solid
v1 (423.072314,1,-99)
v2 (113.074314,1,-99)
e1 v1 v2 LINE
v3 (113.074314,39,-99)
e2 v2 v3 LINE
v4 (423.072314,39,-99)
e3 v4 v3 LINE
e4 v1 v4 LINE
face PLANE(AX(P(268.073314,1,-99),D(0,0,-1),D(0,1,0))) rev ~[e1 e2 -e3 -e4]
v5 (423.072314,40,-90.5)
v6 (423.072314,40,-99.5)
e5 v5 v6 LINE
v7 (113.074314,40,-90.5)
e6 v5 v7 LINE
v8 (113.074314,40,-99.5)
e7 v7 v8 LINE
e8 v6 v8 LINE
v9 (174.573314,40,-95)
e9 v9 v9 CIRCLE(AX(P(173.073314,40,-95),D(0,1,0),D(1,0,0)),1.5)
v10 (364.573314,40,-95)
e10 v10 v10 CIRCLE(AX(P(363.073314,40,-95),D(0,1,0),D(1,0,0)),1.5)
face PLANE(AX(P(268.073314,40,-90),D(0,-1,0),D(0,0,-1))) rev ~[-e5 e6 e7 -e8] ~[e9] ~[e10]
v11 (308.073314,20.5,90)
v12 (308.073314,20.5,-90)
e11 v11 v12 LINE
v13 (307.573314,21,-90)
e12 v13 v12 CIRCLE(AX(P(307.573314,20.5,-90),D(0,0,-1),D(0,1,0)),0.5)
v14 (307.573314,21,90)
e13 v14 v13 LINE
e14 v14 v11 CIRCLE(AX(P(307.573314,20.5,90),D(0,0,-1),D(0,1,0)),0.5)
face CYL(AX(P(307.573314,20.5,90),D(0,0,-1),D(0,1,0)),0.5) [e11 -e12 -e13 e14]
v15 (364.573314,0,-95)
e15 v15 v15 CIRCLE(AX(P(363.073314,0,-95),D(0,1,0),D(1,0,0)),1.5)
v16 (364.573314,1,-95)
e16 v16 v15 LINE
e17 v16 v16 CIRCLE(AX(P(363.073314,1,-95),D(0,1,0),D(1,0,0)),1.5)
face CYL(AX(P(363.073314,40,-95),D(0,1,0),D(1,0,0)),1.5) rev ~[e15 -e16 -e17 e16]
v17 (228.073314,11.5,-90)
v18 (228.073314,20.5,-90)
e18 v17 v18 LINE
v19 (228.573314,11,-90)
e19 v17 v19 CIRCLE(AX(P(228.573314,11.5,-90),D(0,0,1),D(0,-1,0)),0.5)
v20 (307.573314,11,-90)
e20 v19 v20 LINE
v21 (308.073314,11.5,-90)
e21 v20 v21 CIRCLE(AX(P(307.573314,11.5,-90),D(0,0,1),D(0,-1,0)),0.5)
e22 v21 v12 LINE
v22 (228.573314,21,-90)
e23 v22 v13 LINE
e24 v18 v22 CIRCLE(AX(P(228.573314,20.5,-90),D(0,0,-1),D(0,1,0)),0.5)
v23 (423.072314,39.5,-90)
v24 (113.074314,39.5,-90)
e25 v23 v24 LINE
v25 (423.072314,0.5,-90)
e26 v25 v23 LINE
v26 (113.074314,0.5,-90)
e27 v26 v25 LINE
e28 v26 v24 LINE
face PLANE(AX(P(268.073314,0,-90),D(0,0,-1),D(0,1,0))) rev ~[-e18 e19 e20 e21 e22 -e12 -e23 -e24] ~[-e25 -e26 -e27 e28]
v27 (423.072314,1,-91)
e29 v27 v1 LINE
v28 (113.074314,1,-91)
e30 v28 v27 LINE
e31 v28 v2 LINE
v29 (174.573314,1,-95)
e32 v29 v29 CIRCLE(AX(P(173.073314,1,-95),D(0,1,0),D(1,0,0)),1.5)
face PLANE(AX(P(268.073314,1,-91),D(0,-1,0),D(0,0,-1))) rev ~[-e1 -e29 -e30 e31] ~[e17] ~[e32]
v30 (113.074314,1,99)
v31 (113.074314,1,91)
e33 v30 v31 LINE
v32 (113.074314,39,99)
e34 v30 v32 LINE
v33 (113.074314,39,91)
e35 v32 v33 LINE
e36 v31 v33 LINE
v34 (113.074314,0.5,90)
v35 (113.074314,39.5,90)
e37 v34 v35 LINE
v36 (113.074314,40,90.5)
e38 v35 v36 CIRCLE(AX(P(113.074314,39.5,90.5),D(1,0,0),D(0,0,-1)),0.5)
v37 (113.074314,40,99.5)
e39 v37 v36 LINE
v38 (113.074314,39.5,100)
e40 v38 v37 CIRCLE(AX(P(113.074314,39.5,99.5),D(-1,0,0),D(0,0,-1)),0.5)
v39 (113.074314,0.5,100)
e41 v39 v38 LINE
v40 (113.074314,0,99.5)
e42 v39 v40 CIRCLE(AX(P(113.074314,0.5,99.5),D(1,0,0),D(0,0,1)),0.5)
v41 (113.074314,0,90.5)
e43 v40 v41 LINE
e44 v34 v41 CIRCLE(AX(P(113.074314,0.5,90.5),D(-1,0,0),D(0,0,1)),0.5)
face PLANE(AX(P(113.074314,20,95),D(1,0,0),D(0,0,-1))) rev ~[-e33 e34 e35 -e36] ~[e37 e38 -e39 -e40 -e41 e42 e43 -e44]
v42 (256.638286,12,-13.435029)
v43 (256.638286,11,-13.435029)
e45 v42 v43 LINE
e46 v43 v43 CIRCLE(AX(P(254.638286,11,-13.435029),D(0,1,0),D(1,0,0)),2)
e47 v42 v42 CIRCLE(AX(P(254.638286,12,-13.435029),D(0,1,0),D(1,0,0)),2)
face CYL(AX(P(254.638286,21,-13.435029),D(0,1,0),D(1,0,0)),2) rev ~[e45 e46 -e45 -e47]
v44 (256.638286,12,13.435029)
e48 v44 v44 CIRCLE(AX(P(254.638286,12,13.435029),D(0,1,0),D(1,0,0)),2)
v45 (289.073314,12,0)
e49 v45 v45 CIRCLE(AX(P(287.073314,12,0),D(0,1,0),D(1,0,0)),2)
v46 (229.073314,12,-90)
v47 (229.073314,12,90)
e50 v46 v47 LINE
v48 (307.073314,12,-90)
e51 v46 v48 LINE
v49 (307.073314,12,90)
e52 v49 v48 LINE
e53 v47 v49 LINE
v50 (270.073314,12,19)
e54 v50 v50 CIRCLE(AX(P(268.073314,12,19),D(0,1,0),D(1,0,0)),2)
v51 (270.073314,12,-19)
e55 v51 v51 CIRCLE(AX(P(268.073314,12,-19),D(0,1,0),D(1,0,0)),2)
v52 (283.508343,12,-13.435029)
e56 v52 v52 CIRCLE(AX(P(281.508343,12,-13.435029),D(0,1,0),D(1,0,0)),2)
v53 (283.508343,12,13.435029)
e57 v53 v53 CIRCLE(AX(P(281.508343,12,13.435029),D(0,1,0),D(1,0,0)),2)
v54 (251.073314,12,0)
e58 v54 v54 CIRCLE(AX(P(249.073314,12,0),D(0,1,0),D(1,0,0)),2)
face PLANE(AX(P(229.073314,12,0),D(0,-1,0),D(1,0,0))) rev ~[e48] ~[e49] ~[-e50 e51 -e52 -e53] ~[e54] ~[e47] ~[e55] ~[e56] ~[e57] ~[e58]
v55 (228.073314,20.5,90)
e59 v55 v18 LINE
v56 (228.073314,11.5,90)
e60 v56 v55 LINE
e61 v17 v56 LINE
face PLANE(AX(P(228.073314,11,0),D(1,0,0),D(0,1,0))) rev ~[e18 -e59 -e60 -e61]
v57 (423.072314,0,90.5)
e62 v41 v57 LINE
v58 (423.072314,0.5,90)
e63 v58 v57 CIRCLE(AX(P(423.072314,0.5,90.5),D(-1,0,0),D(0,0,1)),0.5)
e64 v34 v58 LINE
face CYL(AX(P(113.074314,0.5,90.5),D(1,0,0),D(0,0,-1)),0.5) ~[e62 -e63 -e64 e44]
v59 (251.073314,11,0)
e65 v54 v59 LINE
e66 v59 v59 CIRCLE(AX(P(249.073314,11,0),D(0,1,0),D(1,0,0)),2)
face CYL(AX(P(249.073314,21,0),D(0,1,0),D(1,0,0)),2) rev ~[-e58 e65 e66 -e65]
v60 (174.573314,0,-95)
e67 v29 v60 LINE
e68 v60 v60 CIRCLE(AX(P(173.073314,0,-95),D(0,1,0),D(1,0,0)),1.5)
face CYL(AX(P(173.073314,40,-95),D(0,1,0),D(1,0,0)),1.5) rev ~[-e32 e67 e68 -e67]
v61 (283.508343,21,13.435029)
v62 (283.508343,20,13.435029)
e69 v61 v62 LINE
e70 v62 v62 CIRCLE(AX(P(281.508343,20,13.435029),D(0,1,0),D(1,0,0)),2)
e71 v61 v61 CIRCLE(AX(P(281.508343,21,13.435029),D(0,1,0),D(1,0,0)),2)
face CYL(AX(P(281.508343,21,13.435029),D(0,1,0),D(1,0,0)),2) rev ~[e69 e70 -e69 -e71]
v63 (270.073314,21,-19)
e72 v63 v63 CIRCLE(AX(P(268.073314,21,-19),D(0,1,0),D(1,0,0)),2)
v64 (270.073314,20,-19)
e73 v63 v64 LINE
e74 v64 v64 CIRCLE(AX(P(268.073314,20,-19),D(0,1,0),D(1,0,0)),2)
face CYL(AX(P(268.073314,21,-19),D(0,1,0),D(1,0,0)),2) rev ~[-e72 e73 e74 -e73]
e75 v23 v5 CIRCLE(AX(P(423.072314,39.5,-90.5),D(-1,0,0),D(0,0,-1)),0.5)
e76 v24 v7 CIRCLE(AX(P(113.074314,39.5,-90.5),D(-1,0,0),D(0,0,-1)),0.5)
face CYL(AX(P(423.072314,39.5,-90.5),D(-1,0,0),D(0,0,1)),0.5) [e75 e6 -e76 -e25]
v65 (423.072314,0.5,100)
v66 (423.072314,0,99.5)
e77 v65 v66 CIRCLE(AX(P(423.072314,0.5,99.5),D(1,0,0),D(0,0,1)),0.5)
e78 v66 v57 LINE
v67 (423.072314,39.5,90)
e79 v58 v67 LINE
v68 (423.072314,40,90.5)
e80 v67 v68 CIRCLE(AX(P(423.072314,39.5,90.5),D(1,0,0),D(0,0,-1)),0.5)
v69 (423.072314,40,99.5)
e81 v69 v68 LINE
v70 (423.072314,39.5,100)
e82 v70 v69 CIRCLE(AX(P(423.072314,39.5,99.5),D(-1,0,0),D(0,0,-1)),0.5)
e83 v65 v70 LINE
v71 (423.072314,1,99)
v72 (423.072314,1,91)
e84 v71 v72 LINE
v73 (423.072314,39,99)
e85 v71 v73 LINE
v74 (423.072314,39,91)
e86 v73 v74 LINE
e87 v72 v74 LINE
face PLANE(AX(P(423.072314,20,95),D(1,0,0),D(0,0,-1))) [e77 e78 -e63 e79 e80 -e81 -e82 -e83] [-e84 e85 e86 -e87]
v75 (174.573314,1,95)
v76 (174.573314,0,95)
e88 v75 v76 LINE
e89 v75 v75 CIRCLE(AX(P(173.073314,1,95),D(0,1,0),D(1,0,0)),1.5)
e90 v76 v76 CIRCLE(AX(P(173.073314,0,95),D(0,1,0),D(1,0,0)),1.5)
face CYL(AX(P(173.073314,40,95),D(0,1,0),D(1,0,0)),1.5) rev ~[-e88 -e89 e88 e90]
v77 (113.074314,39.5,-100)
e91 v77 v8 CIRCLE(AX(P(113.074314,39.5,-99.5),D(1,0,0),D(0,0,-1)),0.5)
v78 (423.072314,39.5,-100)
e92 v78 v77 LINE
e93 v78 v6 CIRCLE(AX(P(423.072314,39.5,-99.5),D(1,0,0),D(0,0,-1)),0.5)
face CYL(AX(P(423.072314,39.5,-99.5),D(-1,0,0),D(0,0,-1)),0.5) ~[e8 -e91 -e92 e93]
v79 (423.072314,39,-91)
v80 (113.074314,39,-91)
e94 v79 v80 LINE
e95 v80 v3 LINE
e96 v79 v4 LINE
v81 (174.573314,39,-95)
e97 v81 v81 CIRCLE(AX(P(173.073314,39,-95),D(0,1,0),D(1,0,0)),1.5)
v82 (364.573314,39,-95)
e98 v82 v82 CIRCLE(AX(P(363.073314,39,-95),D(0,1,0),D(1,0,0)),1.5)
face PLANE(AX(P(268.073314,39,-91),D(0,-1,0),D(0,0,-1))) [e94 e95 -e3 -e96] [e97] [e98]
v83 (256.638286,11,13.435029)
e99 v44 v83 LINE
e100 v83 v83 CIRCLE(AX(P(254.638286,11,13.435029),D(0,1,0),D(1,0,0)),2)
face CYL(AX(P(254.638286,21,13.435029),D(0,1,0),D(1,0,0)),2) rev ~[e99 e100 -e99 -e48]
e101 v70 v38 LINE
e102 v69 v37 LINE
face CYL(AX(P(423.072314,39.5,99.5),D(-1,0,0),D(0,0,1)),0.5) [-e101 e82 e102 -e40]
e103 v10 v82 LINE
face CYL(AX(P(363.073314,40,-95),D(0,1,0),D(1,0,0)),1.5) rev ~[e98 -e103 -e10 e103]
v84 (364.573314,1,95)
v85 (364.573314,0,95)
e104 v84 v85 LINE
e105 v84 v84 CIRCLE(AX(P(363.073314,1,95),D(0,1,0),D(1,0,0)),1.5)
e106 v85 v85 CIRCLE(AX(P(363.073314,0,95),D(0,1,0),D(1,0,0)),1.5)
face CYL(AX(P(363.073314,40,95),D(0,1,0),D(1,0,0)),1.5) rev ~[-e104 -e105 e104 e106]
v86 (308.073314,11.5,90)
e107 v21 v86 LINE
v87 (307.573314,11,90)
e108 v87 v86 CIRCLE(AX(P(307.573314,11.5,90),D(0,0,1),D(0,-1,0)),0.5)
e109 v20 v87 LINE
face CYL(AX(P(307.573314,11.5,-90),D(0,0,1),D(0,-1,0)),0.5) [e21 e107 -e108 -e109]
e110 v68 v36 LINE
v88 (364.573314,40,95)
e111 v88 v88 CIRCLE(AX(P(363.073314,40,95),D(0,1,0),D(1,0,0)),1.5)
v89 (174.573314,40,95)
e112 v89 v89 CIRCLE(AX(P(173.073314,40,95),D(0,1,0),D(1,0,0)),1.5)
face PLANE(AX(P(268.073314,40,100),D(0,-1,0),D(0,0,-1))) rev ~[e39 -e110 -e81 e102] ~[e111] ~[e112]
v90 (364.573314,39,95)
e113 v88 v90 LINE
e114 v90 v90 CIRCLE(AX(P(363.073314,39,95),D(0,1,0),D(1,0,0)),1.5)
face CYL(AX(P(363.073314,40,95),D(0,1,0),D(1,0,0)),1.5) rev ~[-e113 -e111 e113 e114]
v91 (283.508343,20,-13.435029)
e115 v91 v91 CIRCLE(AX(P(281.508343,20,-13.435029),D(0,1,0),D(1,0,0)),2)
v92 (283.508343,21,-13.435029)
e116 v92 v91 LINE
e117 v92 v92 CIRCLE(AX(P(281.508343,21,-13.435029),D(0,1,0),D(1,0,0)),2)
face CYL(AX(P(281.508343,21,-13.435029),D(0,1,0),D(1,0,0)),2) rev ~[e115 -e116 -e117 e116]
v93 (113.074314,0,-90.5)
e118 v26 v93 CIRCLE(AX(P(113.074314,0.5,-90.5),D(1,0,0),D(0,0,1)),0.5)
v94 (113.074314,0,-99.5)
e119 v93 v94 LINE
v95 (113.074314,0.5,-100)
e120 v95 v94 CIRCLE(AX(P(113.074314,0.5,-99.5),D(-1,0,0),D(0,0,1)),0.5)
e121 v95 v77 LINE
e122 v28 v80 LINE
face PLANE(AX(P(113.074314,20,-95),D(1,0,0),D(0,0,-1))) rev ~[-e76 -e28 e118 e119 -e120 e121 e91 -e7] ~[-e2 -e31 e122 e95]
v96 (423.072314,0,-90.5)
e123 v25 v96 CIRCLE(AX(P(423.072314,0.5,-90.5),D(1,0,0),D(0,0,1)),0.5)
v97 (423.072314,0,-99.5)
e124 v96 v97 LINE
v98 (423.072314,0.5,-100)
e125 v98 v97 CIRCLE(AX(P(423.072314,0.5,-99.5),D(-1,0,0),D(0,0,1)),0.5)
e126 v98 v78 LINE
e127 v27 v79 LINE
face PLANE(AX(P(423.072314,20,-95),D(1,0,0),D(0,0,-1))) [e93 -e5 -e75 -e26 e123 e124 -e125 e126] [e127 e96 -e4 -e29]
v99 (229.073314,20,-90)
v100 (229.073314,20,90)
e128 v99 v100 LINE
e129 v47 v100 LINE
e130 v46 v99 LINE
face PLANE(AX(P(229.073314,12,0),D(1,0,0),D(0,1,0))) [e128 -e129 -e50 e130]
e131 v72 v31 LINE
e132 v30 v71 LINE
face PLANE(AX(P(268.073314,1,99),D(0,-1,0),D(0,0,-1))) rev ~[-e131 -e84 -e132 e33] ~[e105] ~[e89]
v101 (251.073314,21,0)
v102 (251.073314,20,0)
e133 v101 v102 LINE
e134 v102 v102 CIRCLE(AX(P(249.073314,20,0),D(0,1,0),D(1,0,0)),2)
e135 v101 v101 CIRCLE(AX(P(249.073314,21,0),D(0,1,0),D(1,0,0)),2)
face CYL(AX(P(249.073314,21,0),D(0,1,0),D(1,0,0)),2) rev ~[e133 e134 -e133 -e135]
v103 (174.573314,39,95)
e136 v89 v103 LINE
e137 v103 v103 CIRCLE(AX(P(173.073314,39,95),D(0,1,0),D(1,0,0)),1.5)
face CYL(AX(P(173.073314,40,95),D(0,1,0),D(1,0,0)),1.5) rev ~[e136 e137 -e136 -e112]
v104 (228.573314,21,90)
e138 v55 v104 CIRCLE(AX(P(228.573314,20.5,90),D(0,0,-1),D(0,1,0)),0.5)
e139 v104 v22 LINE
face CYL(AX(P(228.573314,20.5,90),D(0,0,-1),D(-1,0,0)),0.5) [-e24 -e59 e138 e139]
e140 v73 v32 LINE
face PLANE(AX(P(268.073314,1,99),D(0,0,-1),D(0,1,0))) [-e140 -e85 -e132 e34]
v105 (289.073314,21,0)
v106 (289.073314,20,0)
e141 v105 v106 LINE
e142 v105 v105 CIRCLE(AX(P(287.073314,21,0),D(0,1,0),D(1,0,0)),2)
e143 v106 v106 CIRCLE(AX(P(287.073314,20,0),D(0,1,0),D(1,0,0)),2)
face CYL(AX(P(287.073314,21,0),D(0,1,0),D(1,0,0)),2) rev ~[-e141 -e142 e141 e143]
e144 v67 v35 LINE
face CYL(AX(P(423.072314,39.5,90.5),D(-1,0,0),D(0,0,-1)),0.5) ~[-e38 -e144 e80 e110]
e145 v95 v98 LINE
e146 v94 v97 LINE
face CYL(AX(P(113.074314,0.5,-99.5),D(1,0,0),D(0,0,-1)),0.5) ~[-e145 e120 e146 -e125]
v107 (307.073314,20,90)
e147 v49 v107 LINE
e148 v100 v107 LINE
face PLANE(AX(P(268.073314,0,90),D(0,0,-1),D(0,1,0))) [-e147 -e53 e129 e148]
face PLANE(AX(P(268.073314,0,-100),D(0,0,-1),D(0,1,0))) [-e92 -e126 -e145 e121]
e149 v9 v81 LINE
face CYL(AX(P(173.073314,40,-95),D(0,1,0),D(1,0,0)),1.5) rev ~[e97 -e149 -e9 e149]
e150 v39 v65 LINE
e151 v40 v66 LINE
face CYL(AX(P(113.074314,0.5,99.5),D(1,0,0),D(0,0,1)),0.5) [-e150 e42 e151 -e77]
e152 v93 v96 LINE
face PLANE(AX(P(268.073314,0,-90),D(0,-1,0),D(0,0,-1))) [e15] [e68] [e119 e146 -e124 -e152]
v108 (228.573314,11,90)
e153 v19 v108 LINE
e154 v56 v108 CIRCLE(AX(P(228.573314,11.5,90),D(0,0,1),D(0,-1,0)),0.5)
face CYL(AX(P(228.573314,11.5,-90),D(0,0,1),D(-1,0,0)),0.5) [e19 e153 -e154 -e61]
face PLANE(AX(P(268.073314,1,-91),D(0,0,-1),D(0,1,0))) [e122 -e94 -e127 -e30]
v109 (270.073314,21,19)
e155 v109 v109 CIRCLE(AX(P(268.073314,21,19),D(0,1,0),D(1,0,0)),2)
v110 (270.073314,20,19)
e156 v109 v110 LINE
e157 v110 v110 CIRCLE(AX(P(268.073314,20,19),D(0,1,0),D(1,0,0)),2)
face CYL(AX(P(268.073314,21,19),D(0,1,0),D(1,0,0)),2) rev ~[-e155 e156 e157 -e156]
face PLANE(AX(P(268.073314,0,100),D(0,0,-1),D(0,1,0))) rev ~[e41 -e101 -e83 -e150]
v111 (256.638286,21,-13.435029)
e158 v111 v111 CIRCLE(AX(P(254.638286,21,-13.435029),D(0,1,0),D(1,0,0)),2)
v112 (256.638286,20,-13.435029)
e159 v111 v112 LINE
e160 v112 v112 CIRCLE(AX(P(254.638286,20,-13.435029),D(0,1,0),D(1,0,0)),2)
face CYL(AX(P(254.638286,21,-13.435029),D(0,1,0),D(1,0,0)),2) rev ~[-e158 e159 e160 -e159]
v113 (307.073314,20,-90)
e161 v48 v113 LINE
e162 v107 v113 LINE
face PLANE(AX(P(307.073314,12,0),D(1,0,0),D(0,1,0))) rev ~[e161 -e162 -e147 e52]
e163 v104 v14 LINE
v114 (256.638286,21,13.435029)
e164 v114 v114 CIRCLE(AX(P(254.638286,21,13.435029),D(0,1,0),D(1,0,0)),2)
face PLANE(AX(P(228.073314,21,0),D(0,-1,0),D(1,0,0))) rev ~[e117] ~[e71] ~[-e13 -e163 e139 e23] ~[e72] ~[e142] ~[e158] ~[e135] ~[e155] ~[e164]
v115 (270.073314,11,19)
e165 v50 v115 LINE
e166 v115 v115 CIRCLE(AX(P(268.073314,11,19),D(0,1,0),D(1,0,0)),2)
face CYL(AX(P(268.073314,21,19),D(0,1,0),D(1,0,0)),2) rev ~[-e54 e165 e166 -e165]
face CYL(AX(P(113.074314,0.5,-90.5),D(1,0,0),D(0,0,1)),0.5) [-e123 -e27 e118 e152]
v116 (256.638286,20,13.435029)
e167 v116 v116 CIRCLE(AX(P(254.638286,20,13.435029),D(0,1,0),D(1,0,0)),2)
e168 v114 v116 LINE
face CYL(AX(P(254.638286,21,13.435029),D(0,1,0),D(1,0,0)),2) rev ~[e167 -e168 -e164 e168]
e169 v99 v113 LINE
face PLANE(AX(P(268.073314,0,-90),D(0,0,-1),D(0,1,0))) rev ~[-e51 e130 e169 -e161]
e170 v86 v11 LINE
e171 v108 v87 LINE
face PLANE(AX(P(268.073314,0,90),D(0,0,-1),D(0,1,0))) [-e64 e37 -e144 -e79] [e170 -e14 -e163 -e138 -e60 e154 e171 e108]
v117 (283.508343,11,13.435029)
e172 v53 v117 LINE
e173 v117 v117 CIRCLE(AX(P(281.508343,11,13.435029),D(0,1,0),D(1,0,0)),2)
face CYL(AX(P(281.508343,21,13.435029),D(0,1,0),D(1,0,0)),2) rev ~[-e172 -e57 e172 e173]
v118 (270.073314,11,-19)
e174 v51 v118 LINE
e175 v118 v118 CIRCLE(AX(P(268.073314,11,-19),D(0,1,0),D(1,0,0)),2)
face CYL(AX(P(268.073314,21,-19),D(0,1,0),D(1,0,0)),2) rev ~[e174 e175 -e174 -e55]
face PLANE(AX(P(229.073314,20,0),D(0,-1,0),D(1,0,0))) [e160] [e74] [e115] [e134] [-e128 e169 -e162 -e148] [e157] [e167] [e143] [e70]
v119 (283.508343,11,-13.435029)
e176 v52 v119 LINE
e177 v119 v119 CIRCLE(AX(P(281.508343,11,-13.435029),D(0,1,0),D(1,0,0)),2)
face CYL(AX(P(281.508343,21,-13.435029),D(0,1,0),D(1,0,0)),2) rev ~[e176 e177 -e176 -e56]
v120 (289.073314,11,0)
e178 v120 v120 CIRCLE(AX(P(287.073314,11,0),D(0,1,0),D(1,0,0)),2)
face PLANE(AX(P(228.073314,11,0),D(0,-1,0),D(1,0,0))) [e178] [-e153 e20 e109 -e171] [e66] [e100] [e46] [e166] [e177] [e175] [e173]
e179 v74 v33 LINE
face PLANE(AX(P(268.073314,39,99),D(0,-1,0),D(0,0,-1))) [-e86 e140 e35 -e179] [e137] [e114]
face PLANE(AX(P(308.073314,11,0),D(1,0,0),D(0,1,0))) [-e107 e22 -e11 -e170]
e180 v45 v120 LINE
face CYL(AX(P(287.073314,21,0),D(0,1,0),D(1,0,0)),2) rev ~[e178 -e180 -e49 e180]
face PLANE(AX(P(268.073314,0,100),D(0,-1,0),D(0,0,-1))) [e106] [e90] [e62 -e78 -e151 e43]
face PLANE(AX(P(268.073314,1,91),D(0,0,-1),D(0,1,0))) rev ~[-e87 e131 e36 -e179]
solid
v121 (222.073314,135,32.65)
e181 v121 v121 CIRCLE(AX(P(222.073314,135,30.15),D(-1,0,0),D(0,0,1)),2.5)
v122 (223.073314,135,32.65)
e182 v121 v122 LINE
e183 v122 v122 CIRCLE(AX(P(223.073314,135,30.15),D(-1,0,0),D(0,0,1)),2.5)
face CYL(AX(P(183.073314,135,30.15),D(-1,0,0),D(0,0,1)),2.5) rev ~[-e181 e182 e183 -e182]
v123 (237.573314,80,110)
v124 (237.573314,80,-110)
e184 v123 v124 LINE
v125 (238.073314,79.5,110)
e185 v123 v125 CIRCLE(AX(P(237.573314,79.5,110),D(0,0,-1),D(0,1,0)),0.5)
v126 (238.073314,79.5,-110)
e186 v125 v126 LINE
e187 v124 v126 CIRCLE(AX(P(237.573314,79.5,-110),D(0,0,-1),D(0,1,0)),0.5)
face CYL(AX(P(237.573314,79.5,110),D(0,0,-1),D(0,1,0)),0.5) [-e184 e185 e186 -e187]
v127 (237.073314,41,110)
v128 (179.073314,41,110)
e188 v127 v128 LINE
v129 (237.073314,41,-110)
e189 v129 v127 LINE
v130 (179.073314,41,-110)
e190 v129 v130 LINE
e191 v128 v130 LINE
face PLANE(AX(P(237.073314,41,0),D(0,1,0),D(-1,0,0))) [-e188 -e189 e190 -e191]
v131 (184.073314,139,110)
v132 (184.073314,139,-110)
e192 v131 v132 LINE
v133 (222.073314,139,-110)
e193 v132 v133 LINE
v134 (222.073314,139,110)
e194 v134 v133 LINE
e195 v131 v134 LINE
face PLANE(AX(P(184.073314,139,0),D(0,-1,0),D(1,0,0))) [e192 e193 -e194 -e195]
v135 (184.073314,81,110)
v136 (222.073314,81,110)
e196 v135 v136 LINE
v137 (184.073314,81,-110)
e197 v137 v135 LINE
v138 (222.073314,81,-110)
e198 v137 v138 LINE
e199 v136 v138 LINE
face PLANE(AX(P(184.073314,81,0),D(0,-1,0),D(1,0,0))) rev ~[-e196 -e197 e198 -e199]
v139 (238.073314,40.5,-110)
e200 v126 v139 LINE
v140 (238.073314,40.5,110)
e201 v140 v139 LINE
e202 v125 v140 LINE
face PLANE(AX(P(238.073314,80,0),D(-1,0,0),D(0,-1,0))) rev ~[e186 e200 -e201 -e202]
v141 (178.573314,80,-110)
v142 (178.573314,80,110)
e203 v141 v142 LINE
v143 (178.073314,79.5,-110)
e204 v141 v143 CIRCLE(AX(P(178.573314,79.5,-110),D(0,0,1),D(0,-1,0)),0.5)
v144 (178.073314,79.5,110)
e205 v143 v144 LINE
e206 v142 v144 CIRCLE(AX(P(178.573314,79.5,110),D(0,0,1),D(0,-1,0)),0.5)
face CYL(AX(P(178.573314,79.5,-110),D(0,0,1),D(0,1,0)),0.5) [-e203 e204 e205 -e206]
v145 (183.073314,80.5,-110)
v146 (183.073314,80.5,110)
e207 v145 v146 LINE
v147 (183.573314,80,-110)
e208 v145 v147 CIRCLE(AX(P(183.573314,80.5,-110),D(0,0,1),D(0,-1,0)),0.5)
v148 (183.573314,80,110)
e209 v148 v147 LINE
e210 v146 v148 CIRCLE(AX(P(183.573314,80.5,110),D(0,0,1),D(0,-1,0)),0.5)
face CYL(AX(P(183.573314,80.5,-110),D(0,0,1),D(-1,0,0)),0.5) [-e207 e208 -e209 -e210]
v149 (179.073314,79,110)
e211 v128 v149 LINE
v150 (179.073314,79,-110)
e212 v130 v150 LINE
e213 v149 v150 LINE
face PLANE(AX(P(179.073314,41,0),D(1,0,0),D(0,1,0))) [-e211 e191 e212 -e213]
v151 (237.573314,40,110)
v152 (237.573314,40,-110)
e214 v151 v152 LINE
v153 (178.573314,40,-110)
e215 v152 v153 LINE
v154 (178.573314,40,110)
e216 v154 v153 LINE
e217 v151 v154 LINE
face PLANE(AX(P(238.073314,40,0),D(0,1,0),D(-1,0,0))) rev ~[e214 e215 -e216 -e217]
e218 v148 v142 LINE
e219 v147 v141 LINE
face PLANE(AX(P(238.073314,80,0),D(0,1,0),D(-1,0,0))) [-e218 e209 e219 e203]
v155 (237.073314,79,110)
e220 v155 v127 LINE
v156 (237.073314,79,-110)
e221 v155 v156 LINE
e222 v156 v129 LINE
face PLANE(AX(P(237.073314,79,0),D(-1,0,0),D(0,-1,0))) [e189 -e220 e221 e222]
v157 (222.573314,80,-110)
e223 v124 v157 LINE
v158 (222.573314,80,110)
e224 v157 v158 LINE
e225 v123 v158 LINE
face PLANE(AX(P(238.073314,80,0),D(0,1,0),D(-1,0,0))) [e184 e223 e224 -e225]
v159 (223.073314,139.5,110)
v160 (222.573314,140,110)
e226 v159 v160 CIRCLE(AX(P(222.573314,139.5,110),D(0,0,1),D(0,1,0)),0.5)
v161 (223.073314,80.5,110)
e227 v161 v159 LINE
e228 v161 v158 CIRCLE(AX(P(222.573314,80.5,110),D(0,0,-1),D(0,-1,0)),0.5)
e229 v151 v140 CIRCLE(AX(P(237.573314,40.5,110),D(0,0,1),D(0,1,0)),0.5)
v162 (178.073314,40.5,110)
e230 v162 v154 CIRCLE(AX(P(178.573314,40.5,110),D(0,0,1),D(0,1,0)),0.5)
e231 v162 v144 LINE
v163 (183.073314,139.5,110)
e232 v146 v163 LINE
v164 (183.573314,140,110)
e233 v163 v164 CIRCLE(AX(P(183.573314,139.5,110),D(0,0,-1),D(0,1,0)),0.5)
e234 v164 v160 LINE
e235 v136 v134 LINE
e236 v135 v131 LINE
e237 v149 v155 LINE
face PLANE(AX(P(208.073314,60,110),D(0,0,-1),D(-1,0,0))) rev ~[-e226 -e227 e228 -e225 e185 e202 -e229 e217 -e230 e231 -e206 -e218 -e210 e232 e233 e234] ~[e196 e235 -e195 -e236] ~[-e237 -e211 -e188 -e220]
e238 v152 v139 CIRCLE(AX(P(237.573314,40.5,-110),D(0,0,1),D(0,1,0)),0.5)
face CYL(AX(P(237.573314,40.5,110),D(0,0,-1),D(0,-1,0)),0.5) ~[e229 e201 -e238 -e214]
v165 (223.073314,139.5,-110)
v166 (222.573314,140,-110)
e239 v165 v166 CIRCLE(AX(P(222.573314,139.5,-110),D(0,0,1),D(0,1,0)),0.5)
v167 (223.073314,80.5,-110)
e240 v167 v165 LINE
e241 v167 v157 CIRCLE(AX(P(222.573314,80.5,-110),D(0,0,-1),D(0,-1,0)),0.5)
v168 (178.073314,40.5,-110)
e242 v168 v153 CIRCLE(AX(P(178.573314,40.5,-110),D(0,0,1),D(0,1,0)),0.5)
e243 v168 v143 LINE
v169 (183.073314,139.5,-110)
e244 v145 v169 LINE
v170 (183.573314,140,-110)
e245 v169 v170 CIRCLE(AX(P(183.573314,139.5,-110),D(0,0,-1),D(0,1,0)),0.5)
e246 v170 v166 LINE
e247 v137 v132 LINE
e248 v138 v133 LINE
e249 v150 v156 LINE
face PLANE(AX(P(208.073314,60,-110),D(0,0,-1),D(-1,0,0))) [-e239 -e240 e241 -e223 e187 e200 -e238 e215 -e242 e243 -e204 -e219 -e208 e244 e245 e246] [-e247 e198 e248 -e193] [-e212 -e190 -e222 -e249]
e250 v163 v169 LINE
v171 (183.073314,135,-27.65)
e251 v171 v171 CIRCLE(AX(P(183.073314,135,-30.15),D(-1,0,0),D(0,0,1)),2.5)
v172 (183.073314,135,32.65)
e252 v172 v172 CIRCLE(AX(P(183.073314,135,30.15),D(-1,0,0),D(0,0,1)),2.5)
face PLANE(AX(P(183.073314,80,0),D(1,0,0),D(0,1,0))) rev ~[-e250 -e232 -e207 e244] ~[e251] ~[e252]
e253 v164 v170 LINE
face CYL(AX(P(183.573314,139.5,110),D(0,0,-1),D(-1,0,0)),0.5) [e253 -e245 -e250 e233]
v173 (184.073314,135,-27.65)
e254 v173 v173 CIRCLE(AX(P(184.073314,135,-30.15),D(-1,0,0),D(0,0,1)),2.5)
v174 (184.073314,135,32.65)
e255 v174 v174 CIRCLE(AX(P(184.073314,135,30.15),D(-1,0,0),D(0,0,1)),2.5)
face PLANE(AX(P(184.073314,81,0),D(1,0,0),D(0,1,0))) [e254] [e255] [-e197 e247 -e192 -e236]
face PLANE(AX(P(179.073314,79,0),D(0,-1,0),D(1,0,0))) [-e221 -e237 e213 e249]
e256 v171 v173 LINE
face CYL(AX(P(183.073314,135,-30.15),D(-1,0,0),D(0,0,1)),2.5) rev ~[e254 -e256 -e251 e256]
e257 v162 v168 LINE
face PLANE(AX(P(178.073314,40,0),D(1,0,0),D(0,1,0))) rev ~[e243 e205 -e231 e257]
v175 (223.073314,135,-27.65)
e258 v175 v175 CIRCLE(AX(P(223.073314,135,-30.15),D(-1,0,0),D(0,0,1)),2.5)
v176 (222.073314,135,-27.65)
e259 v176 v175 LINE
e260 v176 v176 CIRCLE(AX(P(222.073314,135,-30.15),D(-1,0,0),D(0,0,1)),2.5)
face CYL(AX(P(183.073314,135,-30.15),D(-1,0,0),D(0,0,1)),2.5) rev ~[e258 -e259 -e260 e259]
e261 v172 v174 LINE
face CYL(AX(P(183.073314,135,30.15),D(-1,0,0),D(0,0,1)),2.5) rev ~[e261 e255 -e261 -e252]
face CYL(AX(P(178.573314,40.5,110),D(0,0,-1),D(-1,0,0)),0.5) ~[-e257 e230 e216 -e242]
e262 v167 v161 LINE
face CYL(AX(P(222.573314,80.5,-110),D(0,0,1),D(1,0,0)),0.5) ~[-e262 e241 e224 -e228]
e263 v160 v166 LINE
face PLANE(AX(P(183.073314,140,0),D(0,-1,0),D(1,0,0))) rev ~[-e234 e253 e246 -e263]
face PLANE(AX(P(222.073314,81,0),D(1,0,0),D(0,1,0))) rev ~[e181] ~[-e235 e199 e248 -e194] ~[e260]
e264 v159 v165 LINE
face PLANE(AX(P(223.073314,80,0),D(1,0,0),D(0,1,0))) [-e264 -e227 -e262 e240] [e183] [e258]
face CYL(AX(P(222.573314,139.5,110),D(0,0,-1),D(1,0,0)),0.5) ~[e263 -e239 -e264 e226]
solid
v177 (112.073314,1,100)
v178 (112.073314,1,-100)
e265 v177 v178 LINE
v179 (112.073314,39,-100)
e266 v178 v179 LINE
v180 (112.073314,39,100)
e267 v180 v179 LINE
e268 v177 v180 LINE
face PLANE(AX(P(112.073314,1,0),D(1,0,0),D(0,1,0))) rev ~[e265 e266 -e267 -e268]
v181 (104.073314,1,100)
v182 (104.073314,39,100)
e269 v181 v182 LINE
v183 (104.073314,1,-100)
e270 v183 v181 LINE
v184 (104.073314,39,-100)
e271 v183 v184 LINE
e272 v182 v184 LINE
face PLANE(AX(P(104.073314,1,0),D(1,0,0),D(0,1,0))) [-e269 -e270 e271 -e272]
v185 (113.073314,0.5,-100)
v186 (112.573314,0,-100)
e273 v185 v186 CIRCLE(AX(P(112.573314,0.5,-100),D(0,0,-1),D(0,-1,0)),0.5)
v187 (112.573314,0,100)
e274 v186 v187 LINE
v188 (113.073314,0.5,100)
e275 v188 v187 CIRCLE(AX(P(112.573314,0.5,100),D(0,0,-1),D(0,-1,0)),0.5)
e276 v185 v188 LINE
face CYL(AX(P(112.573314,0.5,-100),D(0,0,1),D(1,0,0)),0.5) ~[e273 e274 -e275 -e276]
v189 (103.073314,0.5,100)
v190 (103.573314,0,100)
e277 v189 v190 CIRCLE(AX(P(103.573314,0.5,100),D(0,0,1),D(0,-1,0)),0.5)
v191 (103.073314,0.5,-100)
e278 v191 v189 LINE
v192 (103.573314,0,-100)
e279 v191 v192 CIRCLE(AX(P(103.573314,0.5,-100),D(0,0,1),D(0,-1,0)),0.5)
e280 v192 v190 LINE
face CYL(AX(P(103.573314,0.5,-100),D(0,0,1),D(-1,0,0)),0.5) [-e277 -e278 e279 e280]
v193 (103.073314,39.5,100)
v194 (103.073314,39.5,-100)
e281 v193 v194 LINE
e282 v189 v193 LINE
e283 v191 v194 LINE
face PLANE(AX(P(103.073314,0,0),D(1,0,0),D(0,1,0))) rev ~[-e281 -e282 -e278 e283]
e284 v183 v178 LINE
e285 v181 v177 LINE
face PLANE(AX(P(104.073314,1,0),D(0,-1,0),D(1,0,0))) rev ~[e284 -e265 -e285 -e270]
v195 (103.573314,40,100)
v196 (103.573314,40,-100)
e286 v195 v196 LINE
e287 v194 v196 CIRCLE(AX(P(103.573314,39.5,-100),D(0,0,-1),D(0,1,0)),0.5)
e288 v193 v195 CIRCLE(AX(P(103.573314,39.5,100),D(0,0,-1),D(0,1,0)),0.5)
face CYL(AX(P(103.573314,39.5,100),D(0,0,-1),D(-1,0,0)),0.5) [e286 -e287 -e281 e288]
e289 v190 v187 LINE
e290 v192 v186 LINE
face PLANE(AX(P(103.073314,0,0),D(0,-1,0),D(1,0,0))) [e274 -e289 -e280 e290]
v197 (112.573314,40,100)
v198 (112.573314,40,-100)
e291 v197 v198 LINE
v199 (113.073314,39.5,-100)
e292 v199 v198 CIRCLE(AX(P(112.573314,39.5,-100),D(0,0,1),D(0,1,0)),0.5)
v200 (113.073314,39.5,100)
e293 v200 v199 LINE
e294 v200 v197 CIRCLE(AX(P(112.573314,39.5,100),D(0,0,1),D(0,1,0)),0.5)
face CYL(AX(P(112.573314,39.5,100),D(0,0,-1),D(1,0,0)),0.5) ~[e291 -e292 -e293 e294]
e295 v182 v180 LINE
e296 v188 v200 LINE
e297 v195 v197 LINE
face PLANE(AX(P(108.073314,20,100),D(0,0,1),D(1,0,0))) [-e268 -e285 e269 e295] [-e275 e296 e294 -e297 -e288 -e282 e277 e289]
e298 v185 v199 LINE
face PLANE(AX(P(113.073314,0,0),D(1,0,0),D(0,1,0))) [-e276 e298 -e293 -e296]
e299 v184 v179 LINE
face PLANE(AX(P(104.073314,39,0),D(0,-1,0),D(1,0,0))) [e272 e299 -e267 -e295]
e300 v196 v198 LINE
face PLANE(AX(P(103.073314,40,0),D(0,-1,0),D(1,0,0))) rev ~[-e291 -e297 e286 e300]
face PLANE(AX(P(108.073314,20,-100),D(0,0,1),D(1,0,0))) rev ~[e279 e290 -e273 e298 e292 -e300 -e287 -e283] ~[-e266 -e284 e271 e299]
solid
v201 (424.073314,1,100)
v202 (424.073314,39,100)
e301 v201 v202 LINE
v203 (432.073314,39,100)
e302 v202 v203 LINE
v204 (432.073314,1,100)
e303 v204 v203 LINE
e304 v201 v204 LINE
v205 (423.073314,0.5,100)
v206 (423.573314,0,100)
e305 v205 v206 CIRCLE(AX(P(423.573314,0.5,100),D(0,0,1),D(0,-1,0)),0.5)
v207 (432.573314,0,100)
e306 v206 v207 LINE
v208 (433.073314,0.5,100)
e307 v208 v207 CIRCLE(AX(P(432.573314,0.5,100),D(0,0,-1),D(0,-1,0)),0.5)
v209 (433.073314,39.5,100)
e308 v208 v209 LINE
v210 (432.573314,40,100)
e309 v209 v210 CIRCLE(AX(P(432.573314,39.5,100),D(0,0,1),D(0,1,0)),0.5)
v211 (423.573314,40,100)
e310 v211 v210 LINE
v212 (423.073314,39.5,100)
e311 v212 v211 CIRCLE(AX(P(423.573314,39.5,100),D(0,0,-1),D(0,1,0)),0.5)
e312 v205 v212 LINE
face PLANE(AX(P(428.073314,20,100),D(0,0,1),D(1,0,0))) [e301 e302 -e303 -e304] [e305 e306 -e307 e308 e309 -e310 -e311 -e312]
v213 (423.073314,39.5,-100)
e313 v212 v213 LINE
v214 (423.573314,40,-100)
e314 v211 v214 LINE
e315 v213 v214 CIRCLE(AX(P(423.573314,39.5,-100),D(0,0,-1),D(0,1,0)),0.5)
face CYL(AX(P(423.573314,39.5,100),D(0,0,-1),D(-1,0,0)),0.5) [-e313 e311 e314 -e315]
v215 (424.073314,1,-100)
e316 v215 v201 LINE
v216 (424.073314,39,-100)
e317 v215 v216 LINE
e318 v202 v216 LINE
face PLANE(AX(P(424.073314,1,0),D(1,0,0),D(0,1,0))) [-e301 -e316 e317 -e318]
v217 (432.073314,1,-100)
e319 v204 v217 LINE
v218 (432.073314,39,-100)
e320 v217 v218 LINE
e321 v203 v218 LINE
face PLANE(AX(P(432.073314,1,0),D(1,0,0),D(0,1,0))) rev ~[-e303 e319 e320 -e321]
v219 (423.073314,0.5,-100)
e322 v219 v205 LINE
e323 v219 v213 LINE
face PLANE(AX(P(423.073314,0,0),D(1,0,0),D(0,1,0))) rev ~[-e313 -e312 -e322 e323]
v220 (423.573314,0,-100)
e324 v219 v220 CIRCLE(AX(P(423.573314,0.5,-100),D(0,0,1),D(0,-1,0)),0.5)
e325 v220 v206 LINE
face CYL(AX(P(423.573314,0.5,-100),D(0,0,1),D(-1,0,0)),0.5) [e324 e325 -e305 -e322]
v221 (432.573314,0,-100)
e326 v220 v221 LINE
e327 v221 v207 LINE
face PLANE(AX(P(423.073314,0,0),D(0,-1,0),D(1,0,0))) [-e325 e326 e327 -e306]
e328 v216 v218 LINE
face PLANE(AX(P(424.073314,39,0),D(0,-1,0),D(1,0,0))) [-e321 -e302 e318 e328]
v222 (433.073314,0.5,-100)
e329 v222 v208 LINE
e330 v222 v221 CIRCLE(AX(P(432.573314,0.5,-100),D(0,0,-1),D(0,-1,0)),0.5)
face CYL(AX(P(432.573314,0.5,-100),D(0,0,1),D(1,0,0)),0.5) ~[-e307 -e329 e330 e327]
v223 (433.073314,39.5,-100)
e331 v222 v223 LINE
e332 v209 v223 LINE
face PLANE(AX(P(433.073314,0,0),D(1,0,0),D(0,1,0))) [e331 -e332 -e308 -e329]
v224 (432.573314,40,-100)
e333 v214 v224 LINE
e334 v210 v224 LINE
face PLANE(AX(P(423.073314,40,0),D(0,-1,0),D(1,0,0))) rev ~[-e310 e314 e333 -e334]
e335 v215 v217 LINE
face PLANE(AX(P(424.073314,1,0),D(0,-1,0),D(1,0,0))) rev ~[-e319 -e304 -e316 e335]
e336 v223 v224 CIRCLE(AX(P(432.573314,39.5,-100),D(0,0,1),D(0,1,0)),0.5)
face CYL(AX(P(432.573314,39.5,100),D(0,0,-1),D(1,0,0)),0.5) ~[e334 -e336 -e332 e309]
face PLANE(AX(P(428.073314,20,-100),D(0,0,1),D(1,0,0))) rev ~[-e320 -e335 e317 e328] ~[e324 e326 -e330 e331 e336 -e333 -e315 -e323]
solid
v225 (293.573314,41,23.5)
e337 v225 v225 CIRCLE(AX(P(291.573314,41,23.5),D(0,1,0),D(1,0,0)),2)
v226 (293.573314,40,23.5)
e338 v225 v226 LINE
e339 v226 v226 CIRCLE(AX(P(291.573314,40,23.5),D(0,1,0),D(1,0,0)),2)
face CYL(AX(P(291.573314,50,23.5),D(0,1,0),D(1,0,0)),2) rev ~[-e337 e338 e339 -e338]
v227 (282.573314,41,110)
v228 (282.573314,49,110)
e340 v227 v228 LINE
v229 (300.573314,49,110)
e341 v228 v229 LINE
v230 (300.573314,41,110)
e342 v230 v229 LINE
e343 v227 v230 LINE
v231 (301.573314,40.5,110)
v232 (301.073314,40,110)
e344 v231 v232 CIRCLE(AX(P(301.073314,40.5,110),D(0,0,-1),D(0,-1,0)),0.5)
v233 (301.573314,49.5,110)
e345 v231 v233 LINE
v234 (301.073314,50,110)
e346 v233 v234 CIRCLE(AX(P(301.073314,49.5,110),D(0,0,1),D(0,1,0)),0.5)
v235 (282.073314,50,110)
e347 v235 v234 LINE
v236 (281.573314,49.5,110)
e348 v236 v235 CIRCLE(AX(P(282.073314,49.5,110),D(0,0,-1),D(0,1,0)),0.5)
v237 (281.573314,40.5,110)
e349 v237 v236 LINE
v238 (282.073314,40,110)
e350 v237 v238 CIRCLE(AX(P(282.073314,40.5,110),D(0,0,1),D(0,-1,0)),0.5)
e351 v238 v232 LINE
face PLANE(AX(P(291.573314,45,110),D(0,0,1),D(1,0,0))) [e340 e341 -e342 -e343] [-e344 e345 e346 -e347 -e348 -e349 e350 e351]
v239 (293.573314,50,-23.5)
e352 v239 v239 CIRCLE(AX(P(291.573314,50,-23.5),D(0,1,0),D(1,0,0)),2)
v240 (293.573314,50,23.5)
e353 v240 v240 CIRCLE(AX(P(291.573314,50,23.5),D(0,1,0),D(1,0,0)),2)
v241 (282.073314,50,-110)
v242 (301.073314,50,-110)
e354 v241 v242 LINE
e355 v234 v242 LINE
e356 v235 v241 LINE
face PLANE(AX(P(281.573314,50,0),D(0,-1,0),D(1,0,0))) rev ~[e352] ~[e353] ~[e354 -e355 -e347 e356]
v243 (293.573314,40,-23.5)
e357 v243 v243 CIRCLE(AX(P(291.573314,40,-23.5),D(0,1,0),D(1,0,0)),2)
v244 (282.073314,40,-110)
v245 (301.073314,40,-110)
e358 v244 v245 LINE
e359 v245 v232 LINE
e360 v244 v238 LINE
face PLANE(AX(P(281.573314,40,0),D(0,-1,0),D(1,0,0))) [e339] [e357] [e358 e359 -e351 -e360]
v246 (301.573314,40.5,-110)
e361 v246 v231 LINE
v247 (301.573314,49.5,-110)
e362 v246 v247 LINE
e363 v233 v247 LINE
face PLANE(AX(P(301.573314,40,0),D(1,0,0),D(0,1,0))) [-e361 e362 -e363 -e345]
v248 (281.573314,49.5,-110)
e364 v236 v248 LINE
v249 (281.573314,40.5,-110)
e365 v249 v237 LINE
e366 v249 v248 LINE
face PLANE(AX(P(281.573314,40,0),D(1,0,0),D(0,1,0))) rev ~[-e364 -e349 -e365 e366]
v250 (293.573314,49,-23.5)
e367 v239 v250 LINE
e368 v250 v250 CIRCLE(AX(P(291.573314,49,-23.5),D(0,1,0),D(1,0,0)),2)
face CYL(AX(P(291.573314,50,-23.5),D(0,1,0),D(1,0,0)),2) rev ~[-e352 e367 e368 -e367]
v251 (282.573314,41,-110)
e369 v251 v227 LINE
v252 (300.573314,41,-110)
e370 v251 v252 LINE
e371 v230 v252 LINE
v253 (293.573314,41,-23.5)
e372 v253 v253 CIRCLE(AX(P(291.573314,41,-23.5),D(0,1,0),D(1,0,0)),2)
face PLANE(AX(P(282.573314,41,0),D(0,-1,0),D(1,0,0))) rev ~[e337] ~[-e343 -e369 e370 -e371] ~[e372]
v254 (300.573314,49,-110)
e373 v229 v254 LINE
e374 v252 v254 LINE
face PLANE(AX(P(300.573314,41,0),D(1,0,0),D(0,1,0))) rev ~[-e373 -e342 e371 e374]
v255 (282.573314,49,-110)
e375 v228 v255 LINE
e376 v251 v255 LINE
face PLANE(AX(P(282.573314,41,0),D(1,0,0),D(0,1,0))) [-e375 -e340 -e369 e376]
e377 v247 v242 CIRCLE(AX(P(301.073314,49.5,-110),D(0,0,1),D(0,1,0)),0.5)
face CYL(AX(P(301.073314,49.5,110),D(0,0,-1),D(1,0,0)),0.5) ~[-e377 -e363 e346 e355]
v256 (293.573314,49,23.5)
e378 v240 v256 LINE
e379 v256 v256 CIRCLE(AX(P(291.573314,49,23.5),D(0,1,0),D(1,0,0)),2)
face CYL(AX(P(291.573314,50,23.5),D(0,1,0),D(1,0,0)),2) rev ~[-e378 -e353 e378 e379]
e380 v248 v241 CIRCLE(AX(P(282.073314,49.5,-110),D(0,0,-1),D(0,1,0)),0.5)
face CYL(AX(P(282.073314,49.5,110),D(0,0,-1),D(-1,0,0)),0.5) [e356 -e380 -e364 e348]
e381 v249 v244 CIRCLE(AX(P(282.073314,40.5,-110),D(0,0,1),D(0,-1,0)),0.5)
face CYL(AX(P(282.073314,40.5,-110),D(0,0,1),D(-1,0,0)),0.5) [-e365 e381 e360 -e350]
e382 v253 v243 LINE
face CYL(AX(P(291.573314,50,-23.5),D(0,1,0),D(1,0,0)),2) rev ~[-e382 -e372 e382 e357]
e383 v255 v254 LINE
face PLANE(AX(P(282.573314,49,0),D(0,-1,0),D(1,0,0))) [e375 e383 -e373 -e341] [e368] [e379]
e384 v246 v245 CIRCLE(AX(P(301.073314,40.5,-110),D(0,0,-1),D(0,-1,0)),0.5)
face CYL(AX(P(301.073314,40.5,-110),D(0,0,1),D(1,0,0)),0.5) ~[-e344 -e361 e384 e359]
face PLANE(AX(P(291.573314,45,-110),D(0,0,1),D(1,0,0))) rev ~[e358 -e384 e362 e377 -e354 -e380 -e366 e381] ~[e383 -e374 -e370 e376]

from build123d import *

# Parameters (mm, degrees)
EXTRUDE_10_DEPTH        = 100
EXTRUDE_10_DEPTH_BACK   = 100
SKETCH_1_W              = 10
SKETCH_1_H              = 40
SKETCH_1_W_2            = 8
SKETCH_1_H_2            = 38
EXTRUDE_11_DEPTH        = 100
EXTRUDE_11_DEPTH_BACK   = 100
SKETCH_14_W             = 10
SKETCH_14_H             = 40
SKETCH_14_W_2           = 8
SKETCH_14_H_2           = 38
EXTRUDE_12_DEPTH        = 154.999
EXTRUDE_12_DEPTH_BACK   = 154.999
SKETCH_15_W             = 10
SKETCH_15_H             = 40
SKETCH_15_W_2           = 8
SKETCH_15_H_2           = 38
EXTRUDE_12_2_DEPTH      = 154.999
EXTRUDE_12_2_DEPTH_BACK = 154.999
FILLET_1_R              = 0.5
FILLET_2_R              = 0.5
FILLET_3_R              = 0.5
FILLET_4_R              = 0.5
EXTRUDE_14_DEPTH        = 90
EXTRUDE_14_DEPTH_BACK   = 90
SKETCH_16_W             = 80
SKETCH_16_H             = 10
SKETCH_16_W_2           = 78
SKETCH_16_H_2           = 8
SKETCH_17_R             = 2
CUT_EXTRUDE_1_DEPTH     = 10
FILLET_5_R              = 0.5
EXTRUDE_16_DEPTH        = 110
EXTRUDE_16_DEPTH_BACK   = 110
SKETCH_19_W             = 20
SKETCH_19_H             = 10
SKETCH_19_W_2           = 18
SKETCH_19_H_2           = 8
FILLET_6_R              = 0.5
SKETCH_20_R             = 2
CUT_EXTRUDE_2_DEPTH     = 10
EXTRUDE_17_DEPTH        = 110
EXTRUDE_17_DEPTH_BACK   = 110
SKETCH_9_W              = 40
SKETCH_9_H              = 60
SKETCH_9_W_2            = 38
SKETCH_9_H_2            = 58
FILLET_7_R              = 0.5
SKETCH_22_R             = 2.5
CUT_EXTRUDE_3_DEPTH     = 40
EXTRUDE_18_DEPTH        = 110
EXTRUDE_18_DEPTH_BACK   = 110
FILLET_8_R              = 0.5
SKETCH_24_R             = 1.5
CUT_EXTRUDE_4_DEPTH     = 40


with BuildPart() as part:
    # 草图1 → 凸台-拉伸10 (new, two sides: drawn at the far end of the back side and taken through both)
    with BuildSketch(Plane.XY.offset(-EXTRUDE_10_DEPTH_BACK)):
        with Locations((108.073314483, 20)):
            Rectangle(SKETCH_1_W, SKETCH_1_H)
        with Locations((108.073314483, 20)):
            Rectangle(SKETCH_1_W_2, SKETCH_1_H_2, mode=Mode.SUBTRACT)
    extrude(amount=EXTRUDE_10_DEPTH + EXTRUDE_10_DEPTH_BACK)

    # 圆角1
    fillet_1_edges = [part.edges().sort_by_distance(p)[0] for p in [
        (103.073314483, 0, 0),
        (113.073314483, 0, 0),
        (103.073314483, 40, 0),
        (113.073314483, 40, 0),
    ]]
    fillet(fillet_1_edges, radius=FILLET_1_R)


with BuildPart() as body_2:
    # 草图14 → 凸台-拉伸11 (new, two sides: drawn at the far end of the back side and taken through both)
    with BuildSketch(Plane.XY.offset(-EXTRUDE_11_DEPTH_BACK)):
        with Locations((428.073314483, 20)):
            Rectangle(SKETCH_14_W, SKETCH_14_H)
        with Locations((428.073314483, 20)):
            Rectangle(SKETCH_14_W_2, SKETCH_14_H_2, mode=Mode.SUBTRACT)
    extrude(amount=EXTRUDE_11_DEPTH + EXTRUDE_11_DEPTH_BACK)

    # 圆角2
    fillet_2_edges = [body_2.edges().sort_by_distance(p)[0] for p in [
        (433.073314483, 0, 0),
        (433.073314483, 40, 0),
        (423.073314483, 0, 0),
        (423.073314483, 40, 0),
    ]]
    fillet(fillet_2_edges, radius=FILLET_2_R)


with BuildPart() as body_3:
    # 草图15 → 凸台-拉伸12 (new, two sides: drawn at the far end of the back side and taken through both)
    with BuildSketch(Plane(origin=(268.073314483, 0, 0), x_dir=(0, 0, -1), z_dir=(1, 0, 0)).offset(-EXTRUDE_12_DEPTH_BACK)):
        with Locations((-95, 20)):
            Rectangle(SKETCH_15_W, SKETCH_15_H)
        with Locations((-95, 20)):
            Rectangle(SKETCH_15_W_2, SKETCH_15_H_2, mode=Mode.SUBTRACT)
    extrude(amount=EXTRUDE_12_DEPTH + EXTRUDE_12_DEPTH_BACK)

    # 圆角3
    fillet_3_edges = [body_3.edges().sort_by_distance(p)[0] for p in [
        (268.073314483, 0, 90),
        (268.073314483, 0, 100),
        (268.073314483, 40, 90),
        (268.073314483, 40, 100),
    ]]
    fillet(fillet_3_edges, radius=FILLET_3_R)



with BuildPart() as body_4:
    # 草图15 → Extrude 12 2 (new, two sides: drawn at the far end of the back side and taken through both)
    with BuildSketch(Plane(origin=(268.073314483, 0, 0), x_dir=(0, 0, -1), z_dir=(1, 0, 0)).offset(-EXTRUDE_12_2_DEPTH_BACK)):
        with Locations((95, 20)):
            Rectangle(SKETCH_15_W, SKETCH_15_H)
        with Locations((95, 20)):
            Rectangle(SKETCH_15_W_2, SKETCH_15_H_2, mode=Mode.SUBTRACT)
    extrude(amount=EXTRUDE_12_2_DEPTH + EXTRUDE_12_2_DEPTH_BACK)

    # 圆角4
    fillet_4_edges = [body_4.edges().sort_by_distance(p)[0] for p in [
        (268.073314483, 0, -90),
        (268.073314483, 0, -100),
        (268.073314483, 40, -90),
        (268.073314483, 40, -100),
    ]]
    fillet(fillet_4_edges, radius=FILLET_4_R)


with BuildPart() as body_3_1:
    add(body_3.part)

    add(body_4.part)  # 凸台-拉伸14 merges body 4
    # 草图16 → 凸台-拉伸14 (add, two sides: drawn at the far end of the back side and taken through both)
    with BuildSketch(Plane.XY.offset(-EXTRUDE_14_DEPTH_BACK)):
        with Locations((268.073314483, 16)):
            Rectangle(SKETCH_16_W, SKETCH_16_H)
        with Locations((268.073314483, 16)):
            Rectangle(SKETCH_16_W_2, SKETCH_16_H_2, mode=Mode.SUBTRACT)
    extrude(amount=EXTRUDE_14_DEPTH + EXTRUDE_14_DEPTH_BACK)

    # 草图17 → 切除-拉伸1 (cut)
    with BuildSketch(Plane(origin=(0, 21, 0), x_dir=(1, 0, 0), z_dir=(0, 1, 0))):
        with Locations((268.073314483, 19)):
            Circle(SKETCH_17_R)
        with Locations((281.508343326, 13.435028843)):
            Circle(SKETCH_17_R)
        with Locations((287.073314483, 0)):
            Circle(SKETCH_17_R)
        with Locations((281.508343326, -13.435028843)):
            Circle(SKETCH_17_R)
        with Locations((268.073314483, -19)):
            Circle(SKETCH_17_R)
        with Locations((254.63828564, -13.435028843)):
            Circle(SKETCH_17_R)
        with Locations((249.073314483, 0)):
            Circle(SKETCH_17_R)
        with Locations((254.63828564, 13.435028843)):
            Circle(SKETCH_17_R)
    extrude(amount=-CUT_EXTRUDE_1_DEPTH, mode=Mode.SUBTRACT)

    # 圆角5
    fillet_5_edges = [body_3_1.edges().sort_by_distance(p)[0] for p in [
        (228.073314483, 11, 0),
        (228.073314483, 21, 0),
        (308.073314483, 11, 0),
        (308.073314483, 21, 0),
    ]]
    fillet(fillet_5_edges, radius=FILLET_5_R)

    # 草图24 → 切除-拉伸4 (cut)
    with BuildSketch(Plane(origin=(0, 40, 0), x_dir=(1, 0, 0), z_dir=(0, 1, 0))):
        with Locations((173.073314483, 95)):
            Circle(SKETCH_24_R)
        with Locations((363.073314483, 95)):
            Circle(SKETCH_24_R)
        with Locations((363.073314483, -95)):
            Circle(SKETCH_24_R)
        with Locations((173.073314483, -95)):
            Circle(SKETCH_24_R)
    extrude(amount=-CUT_EXTRUDE_4_DEPTH, mode=Mode.SUBTRACT)


with BuildPart() as body_4_2:
    # 草图19 → 凸台-拉伸16 (new, two sides: drawn at the far end of the back side and taken through both)
    with BuildSketch(Plane.XY.offset(-EXTRUDE_16_DEPTH_BACK)):
        with Locations((291.573314483, 45)):
            Rectangle(SKETCH_19_W, SKETCH_19_H)
        with Locations((291.573314483, 45)):
            Rectangle(SKETCH_19_W_2, SKETCH_19_H_2, mode=Mode.SUBTRACT)
    extrude(amount=EXTRUDE_16_DEPTH + EXTRUDE_16_DEPTH_BACK)

    # 圆角6
    fillet_6_edges = [body_4_2.edges().sort_by_distance(p)[0] for p in [
        (281.573314483, 40, 0),
        (281.573314483, 50, 0),
        (301.573314483, 40, 0),
        (301.573314483, 50, 0),
    ]]
    fillet(fillet_6_edges, radius=FILLET_6_R)

    # 草图20 → 切除-拉伸2 (cut)
    with BuildSketch(Plane(origin=(0, 50, 0), x_dir=(1, 0, 0), z_dir=(0, 1, 0))):
        with Locations((291.573314483, 23.5)):
            Circle(SKETCH_20_R)
        with Locations((291.573314483, -23.5)):
            Circle(SKETCH_20_R)
    extrude(amount=-CUT_EXTRUDE_2_DEPTH, mode=Mode.SUBTRACT)


with BuildPart() as body_5:
    # 草图9 → 凸台-拉伸17 (new, two sides: drawn at the far end of the back side and taken through both)
    with BuildSketch(Plane.XY.offset(-EXTRUDE_17_DEPTH_BACK)):
        with Locations((203.073314483, 110)):
            Rectangle(SKETCH_9_W, SKETCH_9_H)
        with Locations((203.073314483, 110)):
            Rectangle(SKETCH_9_W_2, SKETCH_9_H_2, mode=Mode.SUBTRACT)
    extrude(amount=EXTRUDE_17_DEPTH + EXTRUDE_17_DEPTH_BACK)

    # 圆角7
    fillet_7_edges = [body_5.edges().sort_by_distance(p)[0] for p in [
        (183.073314483, 140, 0),
        (183.073314483, 80, 0),
        (223.073314483, 80, 0),
        (223.073314483, 140, 0),
    ]]
    fillet(fillet_7_edges, radius=FILLET_7_R)

    # 草图22 → 切除-拉伸3 (cut)
    with BuildSketch(Plane.ZY.offset(-183.073314483)):
        with Locations((-30.15, 135)):
            Circle(SKETCH_22_R)
        with Locations((30.15, 135)):
            Circle(SKETCH_22_R)
    extrude(amount=-CUT_EXTRUDE_3_DEPTH, mode=Mode.SUBTRACT)

    # 草图23 → 凸台-拉伸18 (add, two sides: drawn at the far end of the back side and taken through both)
    with BuildSketch(Plane.XY.offset(-EXTRUDE_18_DEPTH_BACK)):
        Polygon((223.073314483, 80), (238.073314483, 80), (238.073314483, 40), (178.073314483, 40), (178.073314483, 80), align=None)
        Polygon((223.073314483, 79), (237.073314483, 79), (237.073314483, 41), (179.073314483, 41), (179.073314483, 79), align=None, mode=Mode.SUBTRACT)
    extrude(amount=EXTRUDE_18_DEPTH + EXTRUDE_18_DEPTH_BACK)

    # 圆角8
    fillet_8_edges = [body_5.edges().sort_by_distance(p)[0] for p in [
        (178.073314483, 40, 0),
        (178.073314483, 80, 0),
        (238.073314483, 40, 0),
        (238.073314483, 80, 0),
    ]]
    fillet(fillet_8_edges, radius=FILLET_8_R)


solid = Compound([part.part, body_2.part, body_3_1.part, body_4_2.part, body_5.part])
